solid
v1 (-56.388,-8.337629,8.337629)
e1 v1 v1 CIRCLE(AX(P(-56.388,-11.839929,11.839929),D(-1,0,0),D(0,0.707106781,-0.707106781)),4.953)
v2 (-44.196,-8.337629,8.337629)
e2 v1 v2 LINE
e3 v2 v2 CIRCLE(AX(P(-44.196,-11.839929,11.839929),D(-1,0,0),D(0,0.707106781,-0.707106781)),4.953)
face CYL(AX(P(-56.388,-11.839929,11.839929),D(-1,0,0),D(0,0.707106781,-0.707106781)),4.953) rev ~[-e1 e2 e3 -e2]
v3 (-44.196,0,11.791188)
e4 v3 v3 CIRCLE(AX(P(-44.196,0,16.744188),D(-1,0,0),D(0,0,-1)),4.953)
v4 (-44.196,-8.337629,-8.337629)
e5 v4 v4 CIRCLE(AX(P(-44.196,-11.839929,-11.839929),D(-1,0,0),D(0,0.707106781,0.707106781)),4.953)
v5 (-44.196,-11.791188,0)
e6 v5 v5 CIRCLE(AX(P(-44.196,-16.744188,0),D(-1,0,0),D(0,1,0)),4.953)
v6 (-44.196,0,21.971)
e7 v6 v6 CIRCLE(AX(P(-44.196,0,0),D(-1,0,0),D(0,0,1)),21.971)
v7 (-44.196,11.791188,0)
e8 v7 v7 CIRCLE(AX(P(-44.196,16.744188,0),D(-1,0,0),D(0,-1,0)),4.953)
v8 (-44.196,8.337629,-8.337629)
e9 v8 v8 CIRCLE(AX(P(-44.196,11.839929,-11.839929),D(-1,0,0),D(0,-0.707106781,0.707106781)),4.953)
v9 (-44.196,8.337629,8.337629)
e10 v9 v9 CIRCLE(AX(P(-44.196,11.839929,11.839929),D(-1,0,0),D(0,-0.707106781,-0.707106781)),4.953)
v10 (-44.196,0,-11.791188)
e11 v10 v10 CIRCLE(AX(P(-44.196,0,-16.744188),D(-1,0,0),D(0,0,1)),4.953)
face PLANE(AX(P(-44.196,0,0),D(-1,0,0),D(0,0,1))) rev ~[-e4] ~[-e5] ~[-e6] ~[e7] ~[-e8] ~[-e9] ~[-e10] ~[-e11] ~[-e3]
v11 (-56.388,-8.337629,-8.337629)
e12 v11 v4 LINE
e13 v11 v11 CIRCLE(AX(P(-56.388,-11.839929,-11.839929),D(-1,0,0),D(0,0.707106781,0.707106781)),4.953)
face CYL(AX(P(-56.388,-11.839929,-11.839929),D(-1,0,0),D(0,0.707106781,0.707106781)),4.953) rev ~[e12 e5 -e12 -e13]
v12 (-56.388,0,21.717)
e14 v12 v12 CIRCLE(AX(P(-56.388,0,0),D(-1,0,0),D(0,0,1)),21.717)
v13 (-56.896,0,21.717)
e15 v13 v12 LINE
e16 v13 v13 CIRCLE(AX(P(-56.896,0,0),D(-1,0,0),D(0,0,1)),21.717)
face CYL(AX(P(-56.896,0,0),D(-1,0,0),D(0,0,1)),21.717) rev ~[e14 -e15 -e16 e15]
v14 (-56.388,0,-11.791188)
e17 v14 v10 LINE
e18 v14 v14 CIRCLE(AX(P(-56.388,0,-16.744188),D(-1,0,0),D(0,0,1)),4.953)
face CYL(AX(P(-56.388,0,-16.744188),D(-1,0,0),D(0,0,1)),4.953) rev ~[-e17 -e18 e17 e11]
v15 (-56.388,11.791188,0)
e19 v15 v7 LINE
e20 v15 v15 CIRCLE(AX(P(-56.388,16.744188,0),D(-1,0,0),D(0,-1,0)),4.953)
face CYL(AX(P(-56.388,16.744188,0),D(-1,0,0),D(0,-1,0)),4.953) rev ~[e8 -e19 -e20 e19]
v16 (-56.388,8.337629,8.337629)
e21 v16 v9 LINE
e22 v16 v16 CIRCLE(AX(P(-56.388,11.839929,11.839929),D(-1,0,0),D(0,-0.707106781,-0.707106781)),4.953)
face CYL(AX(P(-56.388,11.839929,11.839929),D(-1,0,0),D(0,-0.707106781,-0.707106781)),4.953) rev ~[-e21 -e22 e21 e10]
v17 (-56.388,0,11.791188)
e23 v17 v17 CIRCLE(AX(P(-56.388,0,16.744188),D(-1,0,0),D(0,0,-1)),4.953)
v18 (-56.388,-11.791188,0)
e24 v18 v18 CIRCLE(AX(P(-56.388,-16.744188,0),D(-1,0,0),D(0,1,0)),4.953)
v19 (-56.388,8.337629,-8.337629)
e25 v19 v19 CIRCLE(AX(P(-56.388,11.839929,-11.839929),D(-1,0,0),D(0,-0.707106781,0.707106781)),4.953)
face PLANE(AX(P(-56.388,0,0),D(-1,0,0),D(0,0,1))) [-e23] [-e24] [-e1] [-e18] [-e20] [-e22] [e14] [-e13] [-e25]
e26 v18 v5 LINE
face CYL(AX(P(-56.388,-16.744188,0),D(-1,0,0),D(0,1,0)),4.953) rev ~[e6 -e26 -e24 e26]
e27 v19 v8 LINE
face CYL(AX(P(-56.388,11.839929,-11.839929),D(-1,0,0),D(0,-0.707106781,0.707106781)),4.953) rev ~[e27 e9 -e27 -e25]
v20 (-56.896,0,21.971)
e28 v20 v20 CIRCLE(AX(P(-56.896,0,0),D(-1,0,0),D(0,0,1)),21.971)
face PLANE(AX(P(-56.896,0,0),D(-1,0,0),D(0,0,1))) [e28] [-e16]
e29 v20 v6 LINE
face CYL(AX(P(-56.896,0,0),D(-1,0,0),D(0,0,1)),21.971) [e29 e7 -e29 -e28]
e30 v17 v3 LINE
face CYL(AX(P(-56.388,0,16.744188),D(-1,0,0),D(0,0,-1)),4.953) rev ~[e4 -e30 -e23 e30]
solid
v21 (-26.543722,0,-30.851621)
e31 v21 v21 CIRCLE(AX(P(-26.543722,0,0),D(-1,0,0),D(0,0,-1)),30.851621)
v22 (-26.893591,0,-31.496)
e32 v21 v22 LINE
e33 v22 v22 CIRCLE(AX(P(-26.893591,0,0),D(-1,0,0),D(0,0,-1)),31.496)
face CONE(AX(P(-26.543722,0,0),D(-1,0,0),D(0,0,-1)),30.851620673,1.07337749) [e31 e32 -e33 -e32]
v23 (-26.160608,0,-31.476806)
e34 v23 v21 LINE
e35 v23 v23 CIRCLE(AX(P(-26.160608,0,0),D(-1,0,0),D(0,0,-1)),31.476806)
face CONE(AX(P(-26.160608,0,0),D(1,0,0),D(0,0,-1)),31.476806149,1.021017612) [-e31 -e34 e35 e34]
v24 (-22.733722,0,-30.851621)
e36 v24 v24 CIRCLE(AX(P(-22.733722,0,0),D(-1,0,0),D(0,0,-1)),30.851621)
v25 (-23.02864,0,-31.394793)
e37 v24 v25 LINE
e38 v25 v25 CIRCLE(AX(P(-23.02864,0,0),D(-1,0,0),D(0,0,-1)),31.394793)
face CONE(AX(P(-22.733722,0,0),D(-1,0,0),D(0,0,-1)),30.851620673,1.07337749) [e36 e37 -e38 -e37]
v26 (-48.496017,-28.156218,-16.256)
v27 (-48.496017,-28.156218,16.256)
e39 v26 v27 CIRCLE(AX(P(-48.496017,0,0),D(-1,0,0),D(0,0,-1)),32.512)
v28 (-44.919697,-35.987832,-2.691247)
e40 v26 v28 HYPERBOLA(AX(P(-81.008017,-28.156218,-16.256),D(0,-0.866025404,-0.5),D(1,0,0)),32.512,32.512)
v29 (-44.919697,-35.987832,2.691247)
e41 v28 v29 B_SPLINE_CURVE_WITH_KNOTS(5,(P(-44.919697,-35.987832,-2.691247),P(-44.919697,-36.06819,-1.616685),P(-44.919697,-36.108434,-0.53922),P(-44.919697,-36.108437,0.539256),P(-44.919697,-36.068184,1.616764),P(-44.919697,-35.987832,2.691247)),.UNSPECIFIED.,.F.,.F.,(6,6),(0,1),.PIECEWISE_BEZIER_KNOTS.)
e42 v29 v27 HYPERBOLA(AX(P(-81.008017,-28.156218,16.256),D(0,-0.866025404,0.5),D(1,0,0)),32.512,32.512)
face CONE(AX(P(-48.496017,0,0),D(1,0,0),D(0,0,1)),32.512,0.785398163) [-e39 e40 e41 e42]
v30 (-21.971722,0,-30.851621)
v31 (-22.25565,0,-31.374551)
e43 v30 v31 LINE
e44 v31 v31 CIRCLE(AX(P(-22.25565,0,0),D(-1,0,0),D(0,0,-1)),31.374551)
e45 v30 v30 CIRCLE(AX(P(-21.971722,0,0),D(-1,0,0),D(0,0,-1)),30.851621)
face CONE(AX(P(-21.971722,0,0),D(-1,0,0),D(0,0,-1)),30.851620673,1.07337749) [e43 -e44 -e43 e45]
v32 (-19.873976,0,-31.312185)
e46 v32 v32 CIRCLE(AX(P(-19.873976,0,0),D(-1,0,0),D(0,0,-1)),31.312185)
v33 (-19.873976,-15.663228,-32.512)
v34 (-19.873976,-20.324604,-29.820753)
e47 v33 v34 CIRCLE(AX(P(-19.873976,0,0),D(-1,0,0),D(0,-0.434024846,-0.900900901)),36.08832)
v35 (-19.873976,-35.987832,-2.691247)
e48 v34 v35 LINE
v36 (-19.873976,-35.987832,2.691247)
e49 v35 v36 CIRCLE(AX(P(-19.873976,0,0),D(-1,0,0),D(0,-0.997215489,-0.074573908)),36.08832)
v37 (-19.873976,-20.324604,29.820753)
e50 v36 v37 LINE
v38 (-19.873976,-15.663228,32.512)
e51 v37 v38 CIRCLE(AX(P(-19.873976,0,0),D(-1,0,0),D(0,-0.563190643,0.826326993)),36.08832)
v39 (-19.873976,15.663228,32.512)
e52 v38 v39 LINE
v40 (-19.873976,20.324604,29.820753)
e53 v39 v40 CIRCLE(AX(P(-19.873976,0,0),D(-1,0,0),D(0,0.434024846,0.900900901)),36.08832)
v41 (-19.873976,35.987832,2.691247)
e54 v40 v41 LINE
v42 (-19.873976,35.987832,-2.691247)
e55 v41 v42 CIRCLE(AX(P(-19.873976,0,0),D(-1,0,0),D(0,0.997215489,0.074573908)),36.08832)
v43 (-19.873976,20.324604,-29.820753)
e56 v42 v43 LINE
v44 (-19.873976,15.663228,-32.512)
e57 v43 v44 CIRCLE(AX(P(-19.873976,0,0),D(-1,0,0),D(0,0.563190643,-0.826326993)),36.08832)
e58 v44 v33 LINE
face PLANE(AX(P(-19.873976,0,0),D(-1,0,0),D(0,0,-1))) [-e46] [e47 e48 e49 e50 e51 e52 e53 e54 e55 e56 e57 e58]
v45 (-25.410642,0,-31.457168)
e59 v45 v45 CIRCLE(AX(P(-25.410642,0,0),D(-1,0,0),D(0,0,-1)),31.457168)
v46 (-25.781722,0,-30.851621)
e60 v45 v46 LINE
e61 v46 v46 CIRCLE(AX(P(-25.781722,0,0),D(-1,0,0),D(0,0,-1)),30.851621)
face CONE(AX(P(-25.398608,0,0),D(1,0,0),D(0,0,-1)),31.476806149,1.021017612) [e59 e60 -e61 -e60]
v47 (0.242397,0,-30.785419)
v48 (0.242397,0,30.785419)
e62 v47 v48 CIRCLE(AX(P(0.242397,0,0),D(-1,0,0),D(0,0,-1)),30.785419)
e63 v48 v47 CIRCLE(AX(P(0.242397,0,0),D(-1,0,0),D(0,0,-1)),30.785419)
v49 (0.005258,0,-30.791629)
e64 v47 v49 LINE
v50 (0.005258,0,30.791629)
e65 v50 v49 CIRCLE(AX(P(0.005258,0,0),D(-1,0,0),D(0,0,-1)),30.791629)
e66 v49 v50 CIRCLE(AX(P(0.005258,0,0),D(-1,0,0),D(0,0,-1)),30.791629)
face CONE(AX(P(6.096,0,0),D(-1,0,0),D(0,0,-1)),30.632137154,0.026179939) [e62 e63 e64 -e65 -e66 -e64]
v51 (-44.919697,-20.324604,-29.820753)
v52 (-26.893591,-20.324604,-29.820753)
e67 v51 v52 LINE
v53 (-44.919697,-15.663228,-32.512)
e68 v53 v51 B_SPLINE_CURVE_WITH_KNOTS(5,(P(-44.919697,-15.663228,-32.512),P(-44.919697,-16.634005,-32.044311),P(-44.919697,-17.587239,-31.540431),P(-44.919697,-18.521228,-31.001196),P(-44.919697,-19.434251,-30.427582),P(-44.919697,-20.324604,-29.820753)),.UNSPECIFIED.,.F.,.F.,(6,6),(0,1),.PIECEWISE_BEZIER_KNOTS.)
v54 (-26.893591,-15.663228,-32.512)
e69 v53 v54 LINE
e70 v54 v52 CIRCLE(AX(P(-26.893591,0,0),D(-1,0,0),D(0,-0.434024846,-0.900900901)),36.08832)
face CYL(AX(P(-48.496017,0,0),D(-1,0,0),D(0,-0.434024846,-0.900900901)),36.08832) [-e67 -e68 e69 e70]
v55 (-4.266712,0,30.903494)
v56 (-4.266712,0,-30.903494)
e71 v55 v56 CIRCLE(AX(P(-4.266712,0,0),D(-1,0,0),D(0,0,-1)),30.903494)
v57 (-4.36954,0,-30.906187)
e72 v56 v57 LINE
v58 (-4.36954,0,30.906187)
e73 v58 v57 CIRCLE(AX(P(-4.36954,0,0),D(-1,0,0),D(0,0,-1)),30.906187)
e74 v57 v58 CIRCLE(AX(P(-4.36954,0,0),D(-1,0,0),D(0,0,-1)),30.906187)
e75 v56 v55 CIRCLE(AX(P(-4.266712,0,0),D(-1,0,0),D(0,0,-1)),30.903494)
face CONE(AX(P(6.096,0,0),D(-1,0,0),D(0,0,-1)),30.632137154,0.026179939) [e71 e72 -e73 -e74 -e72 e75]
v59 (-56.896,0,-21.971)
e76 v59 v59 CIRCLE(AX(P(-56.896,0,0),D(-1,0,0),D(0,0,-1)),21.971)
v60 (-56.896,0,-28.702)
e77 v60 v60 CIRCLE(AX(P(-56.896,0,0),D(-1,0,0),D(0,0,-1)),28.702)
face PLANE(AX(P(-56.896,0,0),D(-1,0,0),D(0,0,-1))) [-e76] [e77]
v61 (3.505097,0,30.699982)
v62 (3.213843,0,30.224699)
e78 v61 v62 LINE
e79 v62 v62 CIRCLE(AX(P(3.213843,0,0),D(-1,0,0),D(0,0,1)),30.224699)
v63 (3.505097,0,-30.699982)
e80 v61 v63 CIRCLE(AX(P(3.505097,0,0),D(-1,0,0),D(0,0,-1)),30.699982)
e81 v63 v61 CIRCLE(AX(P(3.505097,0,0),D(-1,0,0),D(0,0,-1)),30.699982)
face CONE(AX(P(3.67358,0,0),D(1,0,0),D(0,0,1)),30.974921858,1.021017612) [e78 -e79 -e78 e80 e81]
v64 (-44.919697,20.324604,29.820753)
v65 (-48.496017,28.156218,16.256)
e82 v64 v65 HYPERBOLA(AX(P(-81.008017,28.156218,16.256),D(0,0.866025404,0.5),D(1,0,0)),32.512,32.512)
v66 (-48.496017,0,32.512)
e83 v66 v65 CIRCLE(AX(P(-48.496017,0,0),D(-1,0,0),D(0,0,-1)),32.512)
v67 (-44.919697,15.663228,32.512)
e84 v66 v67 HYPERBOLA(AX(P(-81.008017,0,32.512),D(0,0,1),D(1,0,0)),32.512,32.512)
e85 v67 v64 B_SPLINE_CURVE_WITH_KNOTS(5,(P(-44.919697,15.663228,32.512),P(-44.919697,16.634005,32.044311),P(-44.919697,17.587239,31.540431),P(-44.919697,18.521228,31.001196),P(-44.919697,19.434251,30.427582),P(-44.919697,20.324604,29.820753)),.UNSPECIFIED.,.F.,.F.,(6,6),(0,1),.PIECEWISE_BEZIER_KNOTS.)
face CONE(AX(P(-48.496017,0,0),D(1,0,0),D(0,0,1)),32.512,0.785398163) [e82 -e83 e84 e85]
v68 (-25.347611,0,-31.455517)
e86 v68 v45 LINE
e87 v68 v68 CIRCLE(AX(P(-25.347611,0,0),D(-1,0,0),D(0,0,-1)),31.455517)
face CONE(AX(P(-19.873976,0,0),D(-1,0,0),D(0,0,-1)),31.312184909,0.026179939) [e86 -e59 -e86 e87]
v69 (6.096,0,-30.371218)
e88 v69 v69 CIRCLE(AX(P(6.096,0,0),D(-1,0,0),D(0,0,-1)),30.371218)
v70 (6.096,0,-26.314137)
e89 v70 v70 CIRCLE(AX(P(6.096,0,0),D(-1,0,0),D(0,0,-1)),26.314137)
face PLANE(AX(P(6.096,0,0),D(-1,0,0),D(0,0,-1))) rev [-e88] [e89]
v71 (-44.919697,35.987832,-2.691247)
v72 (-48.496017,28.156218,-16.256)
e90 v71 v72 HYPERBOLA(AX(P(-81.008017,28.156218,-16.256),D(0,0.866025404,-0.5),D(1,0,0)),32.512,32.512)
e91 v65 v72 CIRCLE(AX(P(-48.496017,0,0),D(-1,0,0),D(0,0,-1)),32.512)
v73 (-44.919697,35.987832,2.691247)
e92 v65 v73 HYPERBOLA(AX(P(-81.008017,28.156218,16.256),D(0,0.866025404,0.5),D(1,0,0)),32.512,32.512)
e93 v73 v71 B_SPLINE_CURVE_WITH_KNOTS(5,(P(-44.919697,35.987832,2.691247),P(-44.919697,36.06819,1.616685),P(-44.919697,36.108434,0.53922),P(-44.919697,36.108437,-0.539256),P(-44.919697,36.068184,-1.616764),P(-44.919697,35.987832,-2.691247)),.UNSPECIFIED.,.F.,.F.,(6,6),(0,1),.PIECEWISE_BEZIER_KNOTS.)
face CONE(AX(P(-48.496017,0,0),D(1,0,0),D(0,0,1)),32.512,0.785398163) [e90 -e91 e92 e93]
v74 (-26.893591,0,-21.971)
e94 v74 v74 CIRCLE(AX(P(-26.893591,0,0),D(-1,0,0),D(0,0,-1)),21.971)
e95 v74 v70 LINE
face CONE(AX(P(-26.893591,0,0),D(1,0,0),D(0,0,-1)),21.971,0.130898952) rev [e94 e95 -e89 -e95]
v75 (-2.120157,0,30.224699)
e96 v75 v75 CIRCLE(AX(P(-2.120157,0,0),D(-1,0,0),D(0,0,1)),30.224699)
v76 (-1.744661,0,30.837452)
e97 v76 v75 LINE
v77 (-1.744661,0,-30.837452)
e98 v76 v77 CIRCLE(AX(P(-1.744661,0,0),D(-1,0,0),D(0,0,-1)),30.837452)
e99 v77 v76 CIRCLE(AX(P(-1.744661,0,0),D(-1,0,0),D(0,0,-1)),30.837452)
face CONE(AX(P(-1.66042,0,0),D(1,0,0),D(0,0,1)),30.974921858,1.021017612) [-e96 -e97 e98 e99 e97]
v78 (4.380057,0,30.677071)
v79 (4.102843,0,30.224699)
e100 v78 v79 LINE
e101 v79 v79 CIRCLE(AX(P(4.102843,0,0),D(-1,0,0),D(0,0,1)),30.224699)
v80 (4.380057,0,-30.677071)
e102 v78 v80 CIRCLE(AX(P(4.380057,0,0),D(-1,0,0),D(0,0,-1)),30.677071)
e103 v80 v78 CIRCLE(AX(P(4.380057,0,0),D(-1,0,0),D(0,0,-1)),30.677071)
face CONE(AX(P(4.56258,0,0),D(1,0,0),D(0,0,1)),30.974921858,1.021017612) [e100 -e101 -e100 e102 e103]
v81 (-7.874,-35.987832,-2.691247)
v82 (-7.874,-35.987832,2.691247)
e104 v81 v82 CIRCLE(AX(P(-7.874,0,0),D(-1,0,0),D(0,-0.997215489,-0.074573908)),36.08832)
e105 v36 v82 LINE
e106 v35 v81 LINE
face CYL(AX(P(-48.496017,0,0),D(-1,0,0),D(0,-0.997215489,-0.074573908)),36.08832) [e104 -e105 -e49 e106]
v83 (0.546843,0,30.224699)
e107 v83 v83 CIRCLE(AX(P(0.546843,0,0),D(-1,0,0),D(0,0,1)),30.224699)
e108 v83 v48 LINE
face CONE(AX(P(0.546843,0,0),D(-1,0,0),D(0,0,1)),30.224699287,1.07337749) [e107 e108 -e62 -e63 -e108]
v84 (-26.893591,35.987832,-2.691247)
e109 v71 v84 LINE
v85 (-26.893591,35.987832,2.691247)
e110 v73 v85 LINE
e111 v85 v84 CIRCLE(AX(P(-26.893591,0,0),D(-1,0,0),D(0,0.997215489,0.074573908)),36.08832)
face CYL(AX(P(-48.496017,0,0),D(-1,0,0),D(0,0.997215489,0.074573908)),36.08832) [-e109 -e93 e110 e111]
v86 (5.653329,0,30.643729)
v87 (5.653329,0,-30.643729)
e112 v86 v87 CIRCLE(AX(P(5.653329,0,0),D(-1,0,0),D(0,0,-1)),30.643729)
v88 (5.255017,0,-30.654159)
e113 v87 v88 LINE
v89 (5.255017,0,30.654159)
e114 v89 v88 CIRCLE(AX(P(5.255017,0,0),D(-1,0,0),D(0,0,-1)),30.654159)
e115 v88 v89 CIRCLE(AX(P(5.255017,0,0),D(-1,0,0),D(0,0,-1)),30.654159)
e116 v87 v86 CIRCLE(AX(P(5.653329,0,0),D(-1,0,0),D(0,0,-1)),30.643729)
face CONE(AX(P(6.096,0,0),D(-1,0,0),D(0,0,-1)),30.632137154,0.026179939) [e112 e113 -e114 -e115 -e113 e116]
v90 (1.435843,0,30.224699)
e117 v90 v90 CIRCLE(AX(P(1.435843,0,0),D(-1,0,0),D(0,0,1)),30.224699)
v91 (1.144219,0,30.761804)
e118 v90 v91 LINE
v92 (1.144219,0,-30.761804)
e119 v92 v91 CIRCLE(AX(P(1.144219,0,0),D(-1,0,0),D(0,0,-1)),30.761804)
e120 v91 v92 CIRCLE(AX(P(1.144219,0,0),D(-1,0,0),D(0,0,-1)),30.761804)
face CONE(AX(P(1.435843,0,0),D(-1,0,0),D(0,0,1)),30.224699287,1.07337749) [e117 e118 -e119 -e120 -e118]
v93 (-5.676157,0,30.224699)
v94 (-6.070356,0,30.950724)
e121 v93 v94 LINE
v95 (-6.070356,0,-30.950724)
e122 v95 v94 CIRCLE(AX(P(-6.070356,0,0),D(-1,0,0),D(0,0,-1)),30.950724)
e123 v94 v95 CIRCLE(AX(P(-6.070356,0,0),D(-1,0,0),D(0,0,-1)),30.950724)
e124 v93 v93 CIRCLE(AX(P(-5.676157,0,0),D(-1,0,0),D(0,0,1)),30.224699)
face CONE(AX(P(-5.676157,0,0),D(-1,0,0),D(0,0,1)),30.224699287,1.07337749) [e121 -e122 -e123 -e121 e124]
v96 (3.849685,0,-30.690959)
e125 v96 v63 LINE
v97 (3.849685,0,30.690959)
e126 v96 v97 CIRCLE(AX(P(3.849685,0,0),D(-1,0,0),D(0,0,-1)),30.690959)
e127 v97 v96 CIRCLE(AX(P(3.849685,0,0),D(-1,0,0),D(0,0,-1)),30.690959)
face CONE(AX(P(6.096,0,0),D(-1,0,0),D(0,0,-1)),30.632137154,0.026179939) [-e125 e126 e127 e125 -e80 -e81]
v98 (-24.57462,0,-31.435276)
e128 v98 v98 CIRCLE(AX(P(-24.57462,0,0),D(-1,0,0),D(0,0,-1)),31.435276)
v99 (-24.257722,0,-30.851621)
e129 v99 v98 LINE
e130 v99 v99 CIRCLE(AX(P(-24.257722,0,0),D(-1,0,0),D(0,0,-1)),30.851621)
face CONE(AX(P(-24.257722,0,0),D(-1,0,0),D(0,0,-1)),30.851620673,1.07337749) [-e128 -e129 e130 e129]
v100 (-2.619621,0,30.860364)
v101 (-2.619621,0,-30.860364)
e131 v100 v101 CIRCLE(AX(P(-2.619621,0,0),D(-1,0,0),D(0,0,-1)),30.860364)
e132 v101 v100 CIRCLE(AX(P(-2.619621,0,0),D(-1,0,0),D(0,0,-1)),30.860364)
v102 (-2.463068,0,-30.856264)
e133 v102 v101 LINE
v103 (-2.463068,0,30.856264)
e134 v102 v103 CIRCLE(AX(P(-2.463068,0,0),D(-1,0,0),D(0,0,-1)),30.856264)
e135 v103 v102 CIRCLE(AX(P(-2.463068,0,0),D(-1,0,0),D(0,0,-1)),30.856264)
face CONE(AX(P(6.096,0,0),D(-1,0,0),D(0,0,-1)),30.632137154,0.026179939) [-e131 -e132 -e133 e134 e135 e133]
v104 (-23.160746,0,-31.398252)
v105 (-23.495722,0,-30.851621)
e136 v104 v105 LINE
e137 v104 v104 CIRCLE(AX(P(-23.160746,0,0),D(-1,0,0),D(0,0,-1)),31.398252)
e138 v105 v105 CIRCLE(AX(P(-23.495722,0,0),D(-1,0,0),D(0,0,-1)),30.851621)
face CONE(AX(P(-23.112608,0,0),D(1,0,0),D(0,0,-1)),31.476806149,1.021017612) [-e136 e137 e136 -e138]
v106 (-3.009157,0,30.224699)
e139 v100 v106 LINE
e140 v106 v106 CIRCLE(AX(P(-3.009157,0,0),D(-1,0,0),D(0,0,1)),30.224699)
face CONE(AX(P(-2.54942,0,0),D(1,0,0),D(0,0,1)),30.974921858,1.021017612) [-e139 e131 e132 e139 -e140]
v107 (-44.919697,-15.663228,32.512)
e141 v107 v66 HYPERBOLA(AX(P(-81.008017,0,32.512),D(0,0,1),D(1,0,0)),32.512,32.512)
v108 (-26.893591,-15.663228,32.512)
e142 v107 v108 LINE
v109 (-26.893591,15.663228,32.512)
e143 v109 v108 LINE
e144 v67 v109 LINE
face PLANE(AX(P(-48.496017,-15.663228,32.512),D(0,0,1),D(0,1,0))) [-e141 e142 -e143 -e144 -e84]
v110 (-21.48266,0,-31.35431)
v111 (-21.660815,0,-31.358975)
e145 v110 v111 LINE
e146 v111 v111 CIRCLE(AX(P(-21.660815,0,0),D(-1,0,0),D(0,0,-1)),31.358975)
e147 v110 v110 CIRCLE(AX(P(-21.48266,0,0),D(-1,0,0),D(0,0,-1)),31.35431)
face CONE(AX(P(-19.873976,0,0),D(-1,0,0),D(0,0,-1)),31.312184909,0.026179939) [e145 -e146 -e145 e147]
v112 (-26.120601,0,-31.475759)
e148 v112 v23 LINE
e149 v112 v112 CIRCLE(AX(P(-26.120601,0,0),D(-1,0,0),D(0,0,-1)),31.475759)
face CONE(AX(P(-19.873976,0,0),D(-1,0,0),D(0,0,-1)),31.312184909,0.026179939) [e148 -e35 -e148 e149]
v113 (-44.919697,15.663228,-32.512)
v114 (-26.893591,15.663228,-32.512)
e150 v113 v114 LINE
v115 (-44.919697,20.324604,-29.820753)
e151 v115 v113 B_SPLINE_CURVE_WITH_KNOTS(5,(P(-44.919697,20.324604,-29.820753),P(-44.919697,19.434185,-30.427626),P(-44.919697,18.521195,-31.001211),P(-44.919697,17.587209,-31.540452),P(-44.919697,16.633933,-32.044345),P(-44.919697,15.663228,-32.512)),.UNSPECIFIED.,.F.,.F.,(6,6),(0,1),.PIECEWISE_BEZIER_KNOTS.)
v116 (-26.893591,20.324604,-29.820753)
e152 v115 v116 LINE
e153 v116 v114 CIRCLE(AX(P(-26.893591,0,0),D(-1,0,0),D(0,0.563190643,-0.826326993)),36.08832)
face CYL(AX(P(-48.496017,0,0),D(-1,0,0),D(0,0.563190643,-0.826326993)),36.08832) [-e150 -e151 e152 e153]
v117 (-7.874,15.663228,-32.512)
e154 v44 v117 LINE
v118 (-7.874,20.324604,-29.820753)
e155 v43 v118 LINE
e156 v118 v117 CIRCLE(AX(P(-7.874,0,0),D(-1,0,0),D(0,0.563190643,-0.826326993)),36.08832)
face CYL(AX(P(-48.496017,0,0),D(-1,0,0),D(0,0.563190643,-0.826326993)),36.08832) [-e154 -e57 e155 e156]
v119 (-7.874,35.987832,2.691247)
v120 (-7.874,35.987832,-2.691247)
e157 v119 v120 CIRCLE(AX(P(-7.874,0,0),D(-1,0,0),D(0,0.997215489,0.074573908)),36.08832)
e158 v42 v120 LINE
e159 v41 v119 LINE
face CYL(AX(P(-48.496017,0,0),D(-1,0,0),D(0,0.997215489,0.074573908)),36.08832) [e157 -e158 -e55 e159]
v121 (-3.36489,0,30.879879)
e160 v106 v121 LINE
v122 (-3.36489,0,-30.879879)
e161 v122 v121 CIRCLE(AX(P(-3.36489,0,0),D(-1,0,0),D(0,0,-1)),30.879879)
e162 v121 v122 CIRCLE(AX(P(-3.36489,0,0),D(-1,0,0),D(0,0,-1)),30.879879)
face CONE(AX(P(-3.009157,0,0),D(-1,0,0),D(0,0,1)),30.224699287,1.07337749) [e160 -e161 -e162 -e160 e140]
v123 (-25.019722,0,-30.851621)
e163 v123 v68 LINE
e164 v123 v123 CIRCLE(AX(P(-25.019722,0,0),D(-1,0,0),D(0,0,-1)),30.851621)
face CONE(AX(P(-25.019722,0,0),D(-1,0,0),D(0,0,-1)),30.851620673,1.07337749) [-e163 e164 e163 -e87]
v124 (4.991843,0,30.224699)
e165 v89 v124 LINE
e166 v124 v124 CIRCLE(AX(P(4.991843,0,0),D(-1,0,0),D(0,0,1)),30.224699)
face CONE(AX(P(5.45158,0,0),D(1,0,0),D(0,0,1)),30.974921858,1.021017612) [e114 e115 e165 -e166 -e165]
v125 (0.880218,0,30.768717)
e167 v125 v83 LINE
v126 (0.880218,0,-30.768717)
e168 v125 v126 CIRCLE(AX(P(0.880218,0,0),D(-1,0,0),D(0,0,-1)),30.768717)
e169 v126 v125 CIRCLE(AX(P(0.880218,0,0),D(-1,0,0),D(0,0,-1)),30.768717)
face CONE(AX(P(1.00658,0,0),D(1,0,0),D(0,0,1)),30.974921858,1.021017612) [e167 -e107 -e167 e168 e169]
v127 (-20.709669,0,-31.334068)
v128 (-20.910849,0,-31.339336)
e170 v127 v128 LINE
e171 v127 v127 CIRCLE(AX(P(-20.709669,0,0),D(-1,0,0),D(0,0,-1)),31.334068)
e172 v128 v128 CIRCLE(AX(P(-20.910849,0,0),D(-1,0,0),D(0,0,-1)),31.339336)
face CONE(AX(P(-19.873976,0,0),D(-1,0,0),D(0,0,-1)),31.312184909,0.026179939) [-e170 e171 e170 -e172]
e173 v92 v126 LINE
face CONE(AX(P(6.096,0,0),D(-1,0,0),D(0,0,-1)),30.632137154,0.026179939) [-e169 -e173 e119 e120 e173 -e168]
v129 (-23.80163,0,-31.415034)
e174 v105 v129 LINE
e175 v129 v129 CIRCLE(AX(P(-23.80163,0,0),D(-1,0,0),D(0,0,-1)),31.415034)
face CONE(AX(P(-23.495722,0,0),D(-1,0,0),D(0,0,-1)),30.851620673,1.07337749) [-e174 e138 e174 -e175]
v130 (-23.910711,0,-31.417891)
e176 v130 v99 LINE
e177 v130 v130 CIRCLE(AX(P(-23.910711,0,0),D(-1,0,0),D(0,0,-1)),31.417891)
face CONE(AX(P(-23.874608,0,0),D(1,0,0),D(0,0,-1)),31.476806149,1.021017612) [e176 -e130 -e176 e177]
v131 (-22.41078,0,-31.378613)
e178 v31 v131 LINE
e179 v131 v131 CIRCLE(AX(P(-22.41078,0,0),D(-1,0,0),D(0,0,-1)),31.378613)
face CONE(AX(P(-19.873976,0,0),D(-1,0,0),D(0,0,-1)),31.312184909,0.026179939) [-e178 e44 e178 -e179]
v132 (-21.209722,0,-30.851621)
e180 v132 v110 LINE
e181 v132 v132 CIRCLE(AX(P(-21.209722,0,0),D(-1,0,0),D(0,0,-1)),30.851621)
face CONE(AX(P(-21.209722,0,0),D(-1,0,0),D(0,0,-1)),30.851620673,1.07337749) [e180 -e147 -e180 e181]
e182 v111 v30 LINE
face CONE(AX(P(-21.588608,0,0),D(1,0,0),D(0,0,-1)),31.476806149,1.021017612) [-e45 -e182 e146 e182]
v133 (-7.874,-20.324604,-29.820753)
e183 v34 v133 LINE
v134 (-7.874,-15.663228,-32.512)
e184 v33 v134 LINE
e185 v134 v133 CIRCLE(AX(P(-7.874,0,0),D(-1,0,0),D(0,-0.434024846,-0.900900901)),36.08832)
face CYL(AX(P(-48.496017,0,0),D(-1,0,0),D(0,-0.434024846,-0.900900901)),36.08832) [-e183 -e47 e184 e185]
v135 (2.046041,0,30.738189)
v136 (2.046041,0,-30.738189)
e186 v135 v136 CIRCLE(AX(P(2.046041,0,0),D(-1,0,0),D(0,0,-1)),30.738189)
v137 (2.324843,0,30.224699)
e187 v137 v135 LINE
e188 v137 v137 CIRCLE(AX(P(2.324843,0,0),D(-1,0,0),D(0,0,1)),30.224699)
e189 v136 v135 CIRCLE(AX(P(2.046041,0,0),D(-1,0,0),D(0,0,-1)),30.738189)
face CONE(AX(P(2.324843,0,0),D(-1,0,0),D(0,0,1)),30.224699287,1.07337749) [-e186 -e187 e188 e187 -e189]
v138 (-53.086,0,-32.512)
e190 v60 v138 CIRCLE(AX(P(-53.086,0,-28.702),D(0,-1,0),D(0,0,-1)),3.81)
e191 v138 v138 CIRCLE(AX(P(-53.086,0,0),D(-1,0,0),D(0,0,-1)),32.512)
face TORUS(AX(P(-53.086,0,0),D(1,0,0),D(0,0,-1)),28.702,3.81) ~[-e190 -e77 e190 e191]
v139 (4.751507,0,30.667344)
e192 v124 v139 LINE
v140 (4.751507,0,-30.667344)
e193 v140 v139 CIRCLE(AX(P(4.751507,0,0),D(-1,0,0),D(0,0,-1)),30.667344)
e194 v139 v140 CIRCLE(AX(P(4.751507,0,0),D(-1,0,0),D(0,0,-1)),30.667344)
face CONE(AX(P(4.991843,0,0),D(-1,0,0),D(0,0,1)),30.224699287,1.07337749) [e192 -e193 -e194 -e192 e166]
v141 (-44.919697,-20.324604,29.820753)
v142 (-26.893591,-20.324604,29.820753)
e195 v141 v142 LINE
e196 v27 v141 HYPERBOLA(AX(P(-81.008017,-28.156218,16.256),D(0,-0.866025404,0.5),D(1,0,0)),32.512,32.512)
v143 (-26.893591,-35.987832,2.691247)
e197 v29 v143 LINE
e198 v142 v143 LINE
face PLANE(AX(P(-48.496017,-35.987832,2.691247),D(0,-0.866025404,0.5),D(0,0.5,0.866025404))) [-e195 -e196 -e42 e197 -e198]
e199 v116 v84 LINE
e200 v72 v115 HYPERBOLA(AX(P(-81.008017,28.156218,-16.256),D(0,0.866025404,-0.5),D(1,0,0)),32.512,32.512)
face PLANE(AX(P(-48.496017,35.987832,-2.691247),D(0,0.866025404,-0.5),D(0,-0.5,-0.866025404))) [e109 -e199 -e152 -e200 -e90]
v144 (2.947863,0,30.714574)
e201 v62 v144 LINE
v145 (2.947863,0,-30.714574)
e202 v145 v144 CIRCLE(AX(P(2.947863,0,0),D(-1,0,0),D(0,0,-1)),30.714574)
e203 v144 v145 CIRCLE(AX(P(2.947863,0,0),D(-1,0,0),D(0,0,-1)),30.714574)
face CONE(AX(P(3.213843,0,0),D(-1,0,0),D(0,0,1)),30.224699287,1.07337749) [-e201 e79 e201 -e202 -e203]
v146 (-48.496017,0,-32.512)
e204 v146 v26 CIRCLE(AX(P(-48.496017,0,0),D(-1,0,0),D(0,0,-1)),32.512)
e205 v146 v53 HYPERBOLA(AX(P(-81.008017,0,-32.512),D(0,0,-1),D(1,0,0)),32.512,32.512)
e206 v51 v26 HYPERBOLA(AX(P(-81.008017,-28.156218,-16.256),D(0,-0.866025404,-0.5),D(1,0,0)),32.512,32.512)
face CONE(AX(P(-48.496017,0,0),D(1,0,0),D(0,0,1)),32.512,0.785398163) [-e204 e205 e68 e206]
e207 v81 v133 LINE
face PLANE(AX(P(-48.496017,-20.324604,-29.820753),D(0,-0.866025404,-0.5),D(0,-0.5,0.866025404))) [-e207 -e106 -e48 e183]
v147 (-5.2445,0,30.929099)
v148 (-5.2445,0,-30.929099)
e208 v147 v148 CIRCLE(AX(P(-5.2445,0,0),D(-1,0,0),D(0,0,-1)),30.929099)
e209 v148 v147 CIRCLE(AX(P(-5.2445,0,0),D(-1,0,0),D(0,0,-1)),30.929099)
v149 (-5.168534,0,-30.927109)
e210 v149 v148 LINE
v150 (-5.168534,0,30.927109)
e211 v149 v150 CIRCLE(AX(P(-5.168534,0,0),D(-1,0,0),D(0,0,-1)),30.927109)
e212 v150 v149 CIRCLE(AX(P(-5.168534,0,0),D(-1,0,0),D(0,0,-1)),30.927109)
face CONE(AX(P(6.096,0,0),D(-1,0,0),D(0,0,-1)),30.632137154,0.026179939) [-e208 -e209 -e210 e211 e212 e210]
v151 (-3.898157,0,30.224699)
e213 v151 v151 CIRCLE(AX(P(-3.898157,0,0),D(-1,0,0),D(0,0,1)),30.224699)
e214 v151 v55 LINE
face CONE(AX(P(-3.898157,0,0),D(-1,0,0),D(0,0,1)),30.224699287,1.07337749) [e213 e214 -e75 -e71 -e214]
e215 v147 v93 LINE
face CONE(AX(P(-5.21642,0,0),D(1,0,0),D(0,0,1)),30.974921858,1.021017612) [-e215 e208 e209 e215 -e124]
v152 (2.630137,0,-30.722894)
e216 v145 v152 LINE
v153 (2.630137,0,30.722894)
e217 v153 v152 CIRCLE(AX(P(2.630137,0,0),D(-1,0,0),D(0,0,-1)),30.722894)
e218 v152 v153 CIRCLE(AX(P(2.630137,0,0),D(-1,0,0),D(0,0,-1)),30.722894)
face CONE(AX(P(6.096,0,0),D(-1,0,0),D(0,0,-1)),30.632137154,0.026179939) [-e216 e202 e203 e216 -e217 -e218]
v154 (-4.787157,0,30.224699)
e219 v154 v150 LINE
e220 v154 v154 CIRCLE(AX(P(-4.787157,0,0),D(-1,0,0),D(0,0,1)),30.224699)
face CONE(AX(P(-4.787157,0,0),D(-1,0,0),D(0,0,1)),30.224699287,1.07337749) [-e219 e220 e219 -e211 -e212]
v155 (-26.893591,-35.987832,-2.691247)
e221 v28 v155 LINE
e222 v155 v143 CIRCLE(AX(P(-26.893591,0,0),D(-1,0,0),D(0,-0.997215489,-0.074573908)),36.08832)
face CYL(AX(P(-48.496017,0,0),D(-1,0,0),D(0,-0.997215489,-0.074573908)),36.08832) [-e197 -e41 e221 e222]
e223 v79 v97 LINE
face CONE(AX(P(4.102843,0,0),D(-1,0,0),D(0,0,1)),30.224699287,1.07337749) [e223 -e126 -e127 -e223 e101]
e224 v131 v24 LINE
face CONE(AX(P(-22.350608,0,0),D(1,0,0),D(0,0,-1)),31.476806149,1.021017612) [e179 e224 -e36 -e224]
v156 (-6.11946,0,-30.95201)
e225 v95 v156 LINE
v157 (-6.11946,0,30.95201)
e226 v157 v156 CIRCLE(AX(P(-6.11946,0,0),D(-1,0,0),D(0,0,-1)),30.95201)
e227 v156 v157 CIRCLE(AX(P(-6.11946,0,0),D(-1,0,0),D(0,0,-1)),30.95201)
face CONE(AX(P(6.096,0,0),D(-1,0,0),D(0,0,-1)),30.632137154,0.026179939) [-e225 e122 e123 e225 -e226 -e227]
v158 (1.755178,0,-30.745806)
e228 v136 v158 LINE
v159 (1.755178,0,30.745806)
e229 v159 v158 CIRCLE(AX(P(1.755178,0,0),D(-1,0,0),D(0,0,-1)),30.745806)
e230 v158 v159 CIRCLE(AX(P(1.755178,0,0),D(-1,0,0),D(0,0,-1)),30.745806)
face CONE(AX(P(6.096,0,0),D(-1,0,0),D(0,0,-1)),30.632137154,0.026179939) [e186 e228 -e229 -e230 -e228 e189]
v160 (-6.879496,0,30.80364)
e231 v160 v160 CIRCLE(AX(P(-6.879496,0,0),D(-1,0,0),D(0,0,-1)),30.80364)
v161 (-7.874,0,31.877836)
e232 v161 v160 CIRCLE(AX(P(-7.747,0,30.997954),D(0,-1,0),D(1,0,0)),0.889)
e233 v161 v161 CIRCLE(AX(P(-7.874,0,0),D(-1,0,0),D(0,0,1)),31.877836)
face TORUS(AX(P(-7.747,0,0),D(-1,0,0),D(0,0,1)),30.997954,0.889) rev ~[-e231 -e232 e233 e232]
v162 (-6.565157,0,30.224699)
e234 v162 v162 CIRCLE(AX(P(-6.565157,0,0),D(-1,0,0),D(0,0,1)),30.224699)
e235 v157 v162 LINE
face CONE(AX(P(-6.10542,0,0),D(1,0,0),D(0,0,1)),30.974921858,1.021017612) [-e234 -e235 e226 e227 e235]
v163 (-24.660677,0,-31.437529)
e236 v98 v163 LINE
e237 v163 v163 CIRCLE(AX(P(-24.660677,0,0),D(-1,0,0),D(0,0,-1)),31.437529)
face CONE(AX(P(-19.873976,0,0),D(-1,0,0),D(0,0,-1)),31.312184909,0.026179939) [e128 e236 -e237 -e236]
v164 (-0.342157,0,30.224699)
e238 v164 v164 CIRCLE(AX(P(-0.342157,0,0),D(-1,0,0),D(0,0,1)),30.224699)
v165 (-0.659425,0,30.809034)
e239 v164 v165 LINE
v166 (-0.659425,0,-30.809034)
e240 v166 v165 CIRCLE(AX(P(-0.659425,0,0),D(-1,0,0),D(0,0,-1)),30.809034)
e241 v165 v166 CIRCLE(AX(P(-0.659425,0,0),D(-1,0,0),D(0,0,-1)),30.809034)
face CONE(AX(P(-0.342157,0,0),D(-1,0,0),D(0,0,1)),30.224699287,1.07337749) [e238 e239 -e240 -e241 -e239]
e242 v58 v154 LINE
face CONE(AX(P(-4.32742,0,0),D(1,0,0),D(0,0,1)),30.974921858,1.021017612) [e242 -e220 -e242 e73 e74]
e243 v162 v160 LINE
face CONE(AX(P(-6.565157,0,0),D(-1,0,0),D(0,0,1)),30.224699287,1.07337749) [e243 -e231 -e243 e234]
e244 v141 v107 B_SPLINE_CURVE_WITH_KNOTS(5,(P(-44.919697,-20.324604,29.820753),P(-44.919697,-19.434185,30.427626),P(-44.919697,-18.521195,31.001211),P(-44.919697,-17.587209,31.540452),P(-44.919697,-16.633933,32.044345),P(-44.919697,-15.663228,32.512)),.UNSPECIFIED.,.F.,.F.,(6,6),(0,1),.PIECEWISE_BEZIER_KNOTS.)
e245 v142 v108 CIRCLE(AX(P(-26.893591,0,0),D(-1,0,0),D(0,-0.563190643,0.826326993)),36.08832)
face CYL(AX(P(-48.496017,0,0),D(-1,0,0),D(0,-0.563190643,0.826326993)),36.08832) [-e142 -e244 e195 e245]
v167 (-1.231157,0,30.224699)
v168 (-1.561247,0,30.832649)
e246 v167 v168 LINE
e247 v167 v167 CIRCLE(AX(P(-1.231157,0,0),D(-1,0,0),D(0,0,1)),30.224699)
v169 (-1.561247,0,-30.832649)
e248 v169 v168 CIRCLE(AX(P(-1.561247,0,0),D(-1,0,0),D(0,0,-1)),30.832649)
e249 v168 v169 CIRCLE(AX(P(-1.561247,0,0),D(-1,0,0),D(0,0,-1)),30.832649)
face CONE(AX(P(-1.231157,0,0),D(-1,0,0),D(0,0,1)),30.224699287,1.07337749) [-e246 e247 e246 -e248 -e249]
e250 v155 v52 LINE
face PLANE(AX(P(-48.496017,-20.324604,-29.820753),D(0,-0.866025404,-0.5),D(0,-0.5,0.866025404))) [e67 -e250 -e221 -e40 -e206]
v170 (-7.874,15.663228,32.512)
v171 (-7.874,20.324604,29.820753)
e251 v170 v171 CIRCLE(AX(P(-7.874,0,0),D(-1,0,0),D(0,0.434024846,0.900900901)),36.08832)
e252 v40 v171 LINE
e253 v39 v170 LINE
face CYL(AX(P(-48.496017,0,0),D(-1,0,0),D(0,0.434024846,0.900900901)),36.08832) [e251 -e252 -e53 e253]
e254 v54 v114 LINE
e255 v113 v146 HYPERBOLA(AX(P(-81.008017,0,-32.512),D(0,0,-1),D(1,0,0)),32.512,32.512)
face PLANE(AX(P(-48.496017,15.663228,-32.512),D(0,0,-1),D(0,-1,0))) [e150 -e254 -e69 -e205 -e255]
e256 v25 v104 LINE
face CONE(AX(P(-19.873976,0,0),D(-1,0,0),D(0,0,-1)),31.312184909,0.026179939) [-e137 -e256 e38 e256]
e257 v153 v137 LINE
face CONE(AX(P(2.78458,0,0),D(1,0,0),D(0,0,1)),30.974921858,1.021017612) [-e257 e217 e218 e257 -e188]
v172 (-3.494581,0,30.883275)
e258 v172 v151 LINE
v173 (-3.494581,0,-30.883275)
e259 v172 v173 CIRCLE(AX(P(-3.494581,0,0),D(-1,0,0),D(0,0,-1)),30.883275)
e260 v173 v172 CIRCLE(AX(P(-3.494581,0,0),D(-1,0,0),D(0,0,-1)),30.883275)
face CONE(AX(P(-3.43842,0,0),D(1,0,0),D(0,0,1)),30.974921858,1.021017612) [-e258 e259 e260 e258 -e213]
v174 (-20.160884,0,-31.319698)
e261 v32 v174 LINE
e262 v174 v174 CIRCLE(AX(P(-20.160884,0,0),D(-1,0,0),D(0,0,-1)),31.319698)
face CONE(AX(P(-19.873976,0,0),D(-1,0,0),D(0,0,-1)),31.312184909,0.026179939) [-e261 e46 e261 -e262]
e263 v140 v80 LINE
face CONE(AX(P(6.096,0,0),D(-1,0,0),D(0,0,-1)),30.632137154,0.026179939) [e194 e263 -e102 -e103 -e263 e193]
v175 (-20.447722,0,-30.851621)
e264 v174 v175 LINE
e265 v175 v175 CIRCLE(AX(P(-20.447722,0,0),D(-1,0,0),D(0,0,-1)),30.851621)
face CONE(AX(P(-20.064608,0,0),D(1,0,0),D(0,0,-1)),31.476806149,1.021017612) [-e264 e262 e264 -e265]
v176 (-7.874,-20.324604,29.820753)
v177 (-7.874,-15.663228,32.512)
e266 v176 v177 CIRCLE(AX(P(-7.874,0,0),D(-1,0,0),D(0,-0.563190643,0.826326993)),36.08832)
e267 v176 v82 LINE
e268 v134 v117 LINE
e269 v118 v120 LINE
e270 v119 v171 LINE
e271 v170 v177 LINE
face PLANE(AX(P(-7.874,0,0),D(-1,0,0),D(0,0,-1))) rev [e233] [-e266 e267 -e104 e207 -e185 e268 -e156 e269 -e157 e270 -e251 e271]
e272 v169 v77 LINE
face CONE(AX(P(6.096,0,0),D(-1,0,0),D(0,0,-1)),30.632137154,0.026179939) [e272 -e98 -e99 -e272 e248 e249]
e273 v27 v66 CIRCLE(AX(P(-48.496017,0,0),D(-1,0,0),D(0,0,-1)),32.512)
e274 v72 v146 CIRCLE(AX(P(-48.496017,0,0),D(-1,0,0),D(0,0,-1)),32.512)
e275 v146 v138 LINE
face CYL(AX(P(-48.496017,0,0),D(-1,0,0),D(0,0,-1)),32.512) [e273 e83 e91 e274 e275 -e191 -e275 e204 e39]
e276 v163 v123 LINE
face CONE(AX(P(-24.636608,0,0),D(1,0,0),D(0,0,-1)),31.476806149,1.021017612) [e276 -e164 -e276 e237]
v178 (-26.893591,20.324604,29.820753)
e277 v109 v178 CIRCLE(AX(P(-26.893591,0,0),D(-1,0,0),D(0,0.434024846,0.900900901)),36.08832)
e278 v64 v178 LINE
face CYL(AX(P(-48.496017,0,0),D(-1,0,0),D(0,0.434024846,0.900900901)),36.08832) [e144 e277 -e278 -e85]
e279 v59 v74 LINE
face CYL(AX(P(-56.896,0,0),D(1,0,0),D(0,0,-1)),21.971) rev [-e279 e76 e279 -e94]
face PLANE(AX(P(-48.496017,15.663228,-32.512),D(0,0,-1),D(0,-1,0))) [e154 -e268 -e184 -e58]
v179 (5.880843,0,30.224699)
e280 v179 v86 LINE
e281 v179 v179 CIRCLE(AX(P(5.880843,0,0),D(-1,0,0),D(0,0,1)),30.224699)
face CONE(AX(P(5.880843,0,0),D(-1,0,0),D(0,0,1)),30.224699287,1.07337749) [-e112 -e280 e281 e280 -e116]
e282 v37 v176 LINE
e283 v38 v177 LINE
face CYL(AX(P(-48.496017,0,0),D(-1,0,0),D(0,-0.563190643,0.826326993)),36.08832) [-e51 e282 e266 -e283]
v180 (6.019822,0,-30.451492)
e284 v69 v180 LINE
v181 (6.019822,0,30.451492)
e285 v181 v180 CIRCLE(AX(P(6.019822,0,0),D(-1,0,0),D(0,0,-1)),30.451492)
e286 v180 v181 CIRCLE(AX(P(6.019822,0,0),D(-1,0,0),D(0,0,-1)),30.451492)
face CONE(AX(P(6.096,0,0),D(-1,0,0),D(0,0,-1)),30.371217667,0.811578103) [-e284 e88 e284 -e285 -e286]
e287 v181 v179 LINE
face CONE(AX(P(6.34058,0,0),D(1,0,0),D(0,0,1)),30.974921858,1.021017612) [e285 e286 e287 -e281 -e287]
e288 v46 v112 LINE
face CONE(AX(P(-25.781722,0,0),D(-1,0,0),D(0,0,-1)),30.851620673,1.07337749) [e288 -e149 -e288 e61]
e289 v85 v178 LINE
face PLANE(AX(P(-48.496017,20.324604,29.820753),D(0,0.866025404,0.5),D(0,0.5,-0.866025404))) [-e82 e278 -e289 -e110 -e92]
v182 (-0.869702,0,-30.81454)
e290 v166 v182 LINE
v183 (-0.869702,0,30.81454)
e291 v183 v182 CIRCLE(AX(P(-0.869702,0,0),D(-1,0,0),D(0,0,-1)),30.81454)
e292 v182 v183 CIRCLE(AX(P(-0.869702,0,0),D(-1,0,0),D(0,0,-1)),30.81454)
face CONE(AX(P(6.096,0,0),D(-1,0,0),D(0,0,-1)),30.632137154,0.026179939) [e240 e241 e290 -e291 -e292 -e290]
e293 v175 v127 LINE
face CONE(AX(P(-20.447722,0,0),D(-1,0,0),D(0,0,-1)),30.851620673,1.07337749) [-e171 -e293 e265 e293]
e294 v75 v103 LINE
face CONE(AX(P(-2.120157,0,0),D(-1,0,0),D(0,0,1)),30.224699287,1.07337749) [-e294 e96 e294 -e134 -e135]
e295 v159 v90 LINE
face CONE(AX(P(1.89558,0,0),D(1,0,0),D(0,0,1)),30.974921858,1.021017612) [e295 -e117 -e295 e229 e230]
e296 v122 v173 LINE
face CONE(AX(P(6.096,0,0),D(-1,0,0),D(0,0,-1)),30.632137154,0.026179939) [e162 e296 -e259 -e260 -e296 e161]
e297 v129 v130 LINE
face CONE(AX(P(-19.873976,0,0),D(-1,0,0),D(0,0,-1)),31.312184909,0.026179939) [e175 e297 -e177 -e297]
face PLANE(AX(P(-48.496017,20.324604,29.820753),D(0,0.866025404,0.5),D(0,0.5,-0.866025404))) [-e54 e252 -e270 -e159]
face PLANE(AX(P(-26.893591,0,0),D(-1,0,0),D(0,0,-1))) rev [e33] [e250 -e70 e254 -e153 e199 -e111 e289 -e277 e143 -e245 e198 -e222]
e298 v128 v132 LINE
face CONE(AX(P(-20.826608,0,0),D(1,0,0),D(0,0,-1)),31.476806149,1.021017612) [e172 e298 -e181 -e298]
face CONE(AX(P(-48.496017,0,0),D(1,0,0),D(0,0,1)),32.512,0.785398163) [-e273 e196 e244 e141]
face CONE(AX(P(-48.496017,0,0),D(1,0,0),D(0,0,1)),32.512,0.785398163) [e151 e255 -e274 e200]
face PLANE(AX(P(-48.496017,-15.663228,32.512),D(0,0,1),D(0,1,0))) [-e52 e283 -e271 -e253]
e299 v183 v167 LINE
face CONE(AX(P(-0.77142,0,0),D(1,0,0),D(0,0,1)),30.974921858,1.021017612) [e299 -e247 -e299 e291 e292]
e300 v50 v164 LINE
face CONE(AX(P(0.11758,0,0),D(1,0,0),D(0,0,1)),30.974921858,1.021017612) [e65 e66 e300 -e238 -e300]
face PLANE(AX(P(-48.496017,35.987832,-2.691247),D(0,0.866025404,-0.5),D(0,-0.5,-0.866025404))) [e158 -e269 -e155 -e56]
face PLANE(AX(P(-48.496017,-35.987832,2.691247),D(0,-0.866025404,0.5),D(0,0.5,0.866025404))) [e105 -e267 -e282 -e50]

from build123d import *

# Parameters (mm, degrees)
SKETCH12_OUTSIDE_W = 170.928
SKETCH12_OUTSIDE_H = 170.928
CUT_EXTRUDE2_DEPTH = 55.5920168
FILLET4_R          = 3.81
SKETCH19_OUTSIDE_W = 98.176
SKETCH19_OUTSIDE_H = 105.328
SKETCH19_OUTSIDE_R = 32.512
CUT_EXTRUDE3_DEPTH = 3.99796
CUT_EXTRUDE3_DRAFT = -45
CHAMFER1_SIZE      = 0.260919487
CHAMFER1_SIZE2     = 0.254
SKETCH21_R         = 21.971
PLUG_DEPTH         = 12.7
SKETCH22_R         = 21.717
CUT_EXTRUDE4_DEPTH = 0.508
SKETCH27_R         = 4.953
PLUGHOLES_DEPTH    = 63.484
CIRPATTERN1_COUNT  = 8
LPATTERN1_COUNT    = 9
LPATTERN1_PITCH    = 0.762
LPATTERN2_COUNT    = 16
LPATTERN2_PITCH    = 0.889
SKETCH32_R         = 0.889


with BuildPart() as part:
    # Sketch10 → Revolve2 (revolve)
    with BuildSketch(Plane.XY, mode=Mode.PRIVATE) as revolve2_sk:
        Polygon((-56.896, 21.971), (-26.89359112, 21.971), (6.096, 26.314137154), (6.096, 30.632137154), (-7.874, 30.997954479), (-7.874, 65.024), (-19.873976, 65.024), (-19.873976, 31.312184909), (-26.89359112, 31.496), (-26.89359112, 65.024), (-48.4960168, 65.024), (-48.4960168, 32.512), (-56.896, 32.512), align=None)
    revolve(revolve2_sk.sketch.rotate(Axis((0, 0, 0), (-1, 0, 0)), 90), axis=Axis((0, 0, 0), (-1, 0, 0)))  # turned: the seam where the file's is

    # Sketch12 outside → Cut-Extrude2 (cut, through all)
    with BuildSketch(Plane.ZY.offset(48.4960168)):
        Rectangle(SKETCH12_OUTSIDE_W, SKETCH12_OUTSIDE_H)
        with BuildLine():
            Line((-2.69124706, 35.987831689), (-29.82075294, 20.324604167))
            ThreePointArc((-29.82075294, 20.324604167), (-31.2534019, 18.04416), (-32.512, 15.663227523))
            Line((-32.512, 15.663227523), (-32.512, -15.663227523))
            ThreePointArc((-32.512, -15.663227523), (-31.2534019, -18.04416), (-29.82075294, -20.324604167))
            Line((-29.82075294, -20.324604167), (-2.69124706, -35.987831689))
            ThreePointArc((-2.69124706, -35.987831689), (0, -36.08832), (2.69124706, -35.987831689))
            Line((2.69124706, -35.987831689), (29.82075294, -20.324604167))
            ThreePointArc((29.82075294, -20.324604167), (31.2534019, -18.04416), (32.512, -15.663227523))
            Line((32.512, -15.663227523), (32.512, 15.663227523))
            ThreePointArc((32.512, 15.663227523), (31.2534019, 18.04416), (29.82075294, 20.324604167))
            Line((29.82075294, 20.324604167), (2.69124706, 35.987831689))
            ThreePointArc((2.69124706, 35.987831689), (0, 36.08832), (-2.69124706, 35.987831689))
        make_face(mode=Mode.SUBTRACT)
    extrude(amount=-CUT_EXTRUDE2_DEPTH, mode=Mode.SUBTRACT)

    # Fillet4
    fillet4_edges = [part.edges().sort_by_distance(p)[0] for p in [
        (-56.896, 0, 32.512),
    ]]
    fillet(fillet4_edges, radius=FILLET4_R)


with BuildPart() as cut_extrude3_tool:
    # Sketch19 outside → Cut-Extrude3 (with draft: the straight prism first)
    with BuildSketch(Plane.ZY.offset(48.4960168)):
        Rectangle(SKETCH19_OUTSIDE_W, SKETCH19_OUTSIDE_H)
        Circle(SKETCH19_OUTSIDE_R, mode=Mode.SUBTRACT)
    extrude(amount=-CUT_EXTRUDE3_DEPTH)
    # Cut-Extrude3: the draft: its side faces are tilted about the plane it starts from
    cut_extrude3_sides = [cut_extrude3_tool.faces().sort_by_distance(p)[0] for p in [
        (-46.4970368, -52.664, 0),
        (-46.4970368, 0, 49.088),
        (-46.4970368, 52.664, 0),
        (-46.4970368, 0, -49.088),
        (-46.4970368, 0, -32.512),
    ]]
    draft(cut_extrude3_sides, Plane.ZY.offset(48.4960168), CUT_EXTRUDE3_DRAFT)


with BuildPart() as part_1:
    add(part.part)

    # Cut-Extrude3: cut by cut_extrude3_tool
    add(cut_extrude3_tool.part, mode=Mode.SUBTRACT)

    # Chamfer1
    chamfer1_edges = [part_1.edges().sort_by_distance(p)[0] for p in [
        (6.096, 0, 30.632137154),
    ]]
    chamfer1_side = [part_1.faces().sort_by_distance(p)[0] for p in [
        (6.096, 0, 27.18054483),
    ]]
    chamfer(chamfer1_edges, length=CHAMFER1_SIZE, length2=CHAMFER1_SIZE2, reference=chamfer1_side[0])

    # Sketch29 → Cut-Revolve1 (revolve, cut)
    with BuildSketch(Plane.XY, mode=Mode.PRIVATE) as cut_revolve1_sk:
        Polygon((-26.89359112, 31.496), (-26.160607539, 31.476806149), (-26.543721692, 30.851620673), align=None)
    cut_revolve1 = revolve(cut_revolve1_sk.sketch.rotate(Axis((0, 0, 0), (-1, 0, 0)), 90), axis=Axis((0, 0, 0), (-1, 0, 0)), mode=Mode.SUBTRACT)  # turned: the seam where the file's is

    # LPattern1: Cut-Revolve1 ×9
    with Locations(*[(i * LPATTERN1_PITCH, 0, 0) for i in range(1, LPATTERN1_COUNT)]):
        add(cut_revolve1, mode=Mode.SUBTRACT)

    # Sketch30 → Cut-Revolve2 (revolve, cut)
    with BuildSketch(Plane.XY, mode=Mode.PRIVATE) as cut_revolve2_sk:
        Polygon((-7.874, 30.997954479), (-6.994419703, 30.974921858), (-7.454156686, 30.224699287), align=None)
    cut_revolve2 = revolve(cut_revolve2_sk.sketch.rotate(Axis((0, 0, 0), (-1, 0, 0)), 270), axis=Axis((0, 0, 0), (-1, 0, 0)), mode=Mode.SUBTRACT)  # turned: the seam where the file's is

    # LPattern2: Cut-Revolve2 ×16
    with Locations(*[(i * LPATTERN2_PITCH, 0, 0) for i in range(1, LPATTERN2_COUNT)]):
        add(cut_revolve2, mode=Mode.SUBTRACT)

    # Sketch32 → Cut-Revolve3 (revolve, cut)
    with BuildSketch(Plane.XY, mode=Mode.PRIVATE) as cut_revolve3_sk:
        with Locations((-7.747, 30.997954479)):
            Circle(SKETCH32_R)
    revolve(cut_revolve3_sk.sketch.rotate(Axis((0, 0, 0), (-1, 0, 0)), 270), axis=Axis((0, 0, 0), (-1, 0, 0)), mode=Mode.SUBTRACT)  # turned: the seam where the file's is


with BuildPart() as body_2:
    # Sketch21 → plug (new body)
    with BuildSketch(Plane.ZY.offset(56.896)):
        Circle(SKETCH21_R)
    extrude(amount=-PLUG_DEPTH)

    # Sketch22 → Cut-Extrude4 (cut)
    with BuildSketch(Plane.ZY.offset(56.896)):
        Circle(SKETCH22_R)
    extrude(amount=-CUT_EXTRUDE4_DEPTH, mode=Mode.SUBTRACT)

    # Sketch27 → plugholes (cut, through all)
    with BuildSketch(Plane.ZY.offset(56.388)):
        with Locations((-16.744188, 0)):
            Circle(SKETCH27_R)
    plugholes = extrude(amount=-PLUGHOLES_DEPTH, mode=Mode.SUBTRACT)

    # CirPattern1: plugholes ×8 about axis
    cirpattern1_axis = Axis((0, 0, 0), (1, 0, 0))
    for i in range(1, CIRPATTERN1_COUNT):
        add(plugholes.rotate(cirpattern1_axis, i * 360 / CIRPATTERN1_COUNT), mode=Mode.SUBTRACT)


solid = Compound([part_1.part, body_2.part])
